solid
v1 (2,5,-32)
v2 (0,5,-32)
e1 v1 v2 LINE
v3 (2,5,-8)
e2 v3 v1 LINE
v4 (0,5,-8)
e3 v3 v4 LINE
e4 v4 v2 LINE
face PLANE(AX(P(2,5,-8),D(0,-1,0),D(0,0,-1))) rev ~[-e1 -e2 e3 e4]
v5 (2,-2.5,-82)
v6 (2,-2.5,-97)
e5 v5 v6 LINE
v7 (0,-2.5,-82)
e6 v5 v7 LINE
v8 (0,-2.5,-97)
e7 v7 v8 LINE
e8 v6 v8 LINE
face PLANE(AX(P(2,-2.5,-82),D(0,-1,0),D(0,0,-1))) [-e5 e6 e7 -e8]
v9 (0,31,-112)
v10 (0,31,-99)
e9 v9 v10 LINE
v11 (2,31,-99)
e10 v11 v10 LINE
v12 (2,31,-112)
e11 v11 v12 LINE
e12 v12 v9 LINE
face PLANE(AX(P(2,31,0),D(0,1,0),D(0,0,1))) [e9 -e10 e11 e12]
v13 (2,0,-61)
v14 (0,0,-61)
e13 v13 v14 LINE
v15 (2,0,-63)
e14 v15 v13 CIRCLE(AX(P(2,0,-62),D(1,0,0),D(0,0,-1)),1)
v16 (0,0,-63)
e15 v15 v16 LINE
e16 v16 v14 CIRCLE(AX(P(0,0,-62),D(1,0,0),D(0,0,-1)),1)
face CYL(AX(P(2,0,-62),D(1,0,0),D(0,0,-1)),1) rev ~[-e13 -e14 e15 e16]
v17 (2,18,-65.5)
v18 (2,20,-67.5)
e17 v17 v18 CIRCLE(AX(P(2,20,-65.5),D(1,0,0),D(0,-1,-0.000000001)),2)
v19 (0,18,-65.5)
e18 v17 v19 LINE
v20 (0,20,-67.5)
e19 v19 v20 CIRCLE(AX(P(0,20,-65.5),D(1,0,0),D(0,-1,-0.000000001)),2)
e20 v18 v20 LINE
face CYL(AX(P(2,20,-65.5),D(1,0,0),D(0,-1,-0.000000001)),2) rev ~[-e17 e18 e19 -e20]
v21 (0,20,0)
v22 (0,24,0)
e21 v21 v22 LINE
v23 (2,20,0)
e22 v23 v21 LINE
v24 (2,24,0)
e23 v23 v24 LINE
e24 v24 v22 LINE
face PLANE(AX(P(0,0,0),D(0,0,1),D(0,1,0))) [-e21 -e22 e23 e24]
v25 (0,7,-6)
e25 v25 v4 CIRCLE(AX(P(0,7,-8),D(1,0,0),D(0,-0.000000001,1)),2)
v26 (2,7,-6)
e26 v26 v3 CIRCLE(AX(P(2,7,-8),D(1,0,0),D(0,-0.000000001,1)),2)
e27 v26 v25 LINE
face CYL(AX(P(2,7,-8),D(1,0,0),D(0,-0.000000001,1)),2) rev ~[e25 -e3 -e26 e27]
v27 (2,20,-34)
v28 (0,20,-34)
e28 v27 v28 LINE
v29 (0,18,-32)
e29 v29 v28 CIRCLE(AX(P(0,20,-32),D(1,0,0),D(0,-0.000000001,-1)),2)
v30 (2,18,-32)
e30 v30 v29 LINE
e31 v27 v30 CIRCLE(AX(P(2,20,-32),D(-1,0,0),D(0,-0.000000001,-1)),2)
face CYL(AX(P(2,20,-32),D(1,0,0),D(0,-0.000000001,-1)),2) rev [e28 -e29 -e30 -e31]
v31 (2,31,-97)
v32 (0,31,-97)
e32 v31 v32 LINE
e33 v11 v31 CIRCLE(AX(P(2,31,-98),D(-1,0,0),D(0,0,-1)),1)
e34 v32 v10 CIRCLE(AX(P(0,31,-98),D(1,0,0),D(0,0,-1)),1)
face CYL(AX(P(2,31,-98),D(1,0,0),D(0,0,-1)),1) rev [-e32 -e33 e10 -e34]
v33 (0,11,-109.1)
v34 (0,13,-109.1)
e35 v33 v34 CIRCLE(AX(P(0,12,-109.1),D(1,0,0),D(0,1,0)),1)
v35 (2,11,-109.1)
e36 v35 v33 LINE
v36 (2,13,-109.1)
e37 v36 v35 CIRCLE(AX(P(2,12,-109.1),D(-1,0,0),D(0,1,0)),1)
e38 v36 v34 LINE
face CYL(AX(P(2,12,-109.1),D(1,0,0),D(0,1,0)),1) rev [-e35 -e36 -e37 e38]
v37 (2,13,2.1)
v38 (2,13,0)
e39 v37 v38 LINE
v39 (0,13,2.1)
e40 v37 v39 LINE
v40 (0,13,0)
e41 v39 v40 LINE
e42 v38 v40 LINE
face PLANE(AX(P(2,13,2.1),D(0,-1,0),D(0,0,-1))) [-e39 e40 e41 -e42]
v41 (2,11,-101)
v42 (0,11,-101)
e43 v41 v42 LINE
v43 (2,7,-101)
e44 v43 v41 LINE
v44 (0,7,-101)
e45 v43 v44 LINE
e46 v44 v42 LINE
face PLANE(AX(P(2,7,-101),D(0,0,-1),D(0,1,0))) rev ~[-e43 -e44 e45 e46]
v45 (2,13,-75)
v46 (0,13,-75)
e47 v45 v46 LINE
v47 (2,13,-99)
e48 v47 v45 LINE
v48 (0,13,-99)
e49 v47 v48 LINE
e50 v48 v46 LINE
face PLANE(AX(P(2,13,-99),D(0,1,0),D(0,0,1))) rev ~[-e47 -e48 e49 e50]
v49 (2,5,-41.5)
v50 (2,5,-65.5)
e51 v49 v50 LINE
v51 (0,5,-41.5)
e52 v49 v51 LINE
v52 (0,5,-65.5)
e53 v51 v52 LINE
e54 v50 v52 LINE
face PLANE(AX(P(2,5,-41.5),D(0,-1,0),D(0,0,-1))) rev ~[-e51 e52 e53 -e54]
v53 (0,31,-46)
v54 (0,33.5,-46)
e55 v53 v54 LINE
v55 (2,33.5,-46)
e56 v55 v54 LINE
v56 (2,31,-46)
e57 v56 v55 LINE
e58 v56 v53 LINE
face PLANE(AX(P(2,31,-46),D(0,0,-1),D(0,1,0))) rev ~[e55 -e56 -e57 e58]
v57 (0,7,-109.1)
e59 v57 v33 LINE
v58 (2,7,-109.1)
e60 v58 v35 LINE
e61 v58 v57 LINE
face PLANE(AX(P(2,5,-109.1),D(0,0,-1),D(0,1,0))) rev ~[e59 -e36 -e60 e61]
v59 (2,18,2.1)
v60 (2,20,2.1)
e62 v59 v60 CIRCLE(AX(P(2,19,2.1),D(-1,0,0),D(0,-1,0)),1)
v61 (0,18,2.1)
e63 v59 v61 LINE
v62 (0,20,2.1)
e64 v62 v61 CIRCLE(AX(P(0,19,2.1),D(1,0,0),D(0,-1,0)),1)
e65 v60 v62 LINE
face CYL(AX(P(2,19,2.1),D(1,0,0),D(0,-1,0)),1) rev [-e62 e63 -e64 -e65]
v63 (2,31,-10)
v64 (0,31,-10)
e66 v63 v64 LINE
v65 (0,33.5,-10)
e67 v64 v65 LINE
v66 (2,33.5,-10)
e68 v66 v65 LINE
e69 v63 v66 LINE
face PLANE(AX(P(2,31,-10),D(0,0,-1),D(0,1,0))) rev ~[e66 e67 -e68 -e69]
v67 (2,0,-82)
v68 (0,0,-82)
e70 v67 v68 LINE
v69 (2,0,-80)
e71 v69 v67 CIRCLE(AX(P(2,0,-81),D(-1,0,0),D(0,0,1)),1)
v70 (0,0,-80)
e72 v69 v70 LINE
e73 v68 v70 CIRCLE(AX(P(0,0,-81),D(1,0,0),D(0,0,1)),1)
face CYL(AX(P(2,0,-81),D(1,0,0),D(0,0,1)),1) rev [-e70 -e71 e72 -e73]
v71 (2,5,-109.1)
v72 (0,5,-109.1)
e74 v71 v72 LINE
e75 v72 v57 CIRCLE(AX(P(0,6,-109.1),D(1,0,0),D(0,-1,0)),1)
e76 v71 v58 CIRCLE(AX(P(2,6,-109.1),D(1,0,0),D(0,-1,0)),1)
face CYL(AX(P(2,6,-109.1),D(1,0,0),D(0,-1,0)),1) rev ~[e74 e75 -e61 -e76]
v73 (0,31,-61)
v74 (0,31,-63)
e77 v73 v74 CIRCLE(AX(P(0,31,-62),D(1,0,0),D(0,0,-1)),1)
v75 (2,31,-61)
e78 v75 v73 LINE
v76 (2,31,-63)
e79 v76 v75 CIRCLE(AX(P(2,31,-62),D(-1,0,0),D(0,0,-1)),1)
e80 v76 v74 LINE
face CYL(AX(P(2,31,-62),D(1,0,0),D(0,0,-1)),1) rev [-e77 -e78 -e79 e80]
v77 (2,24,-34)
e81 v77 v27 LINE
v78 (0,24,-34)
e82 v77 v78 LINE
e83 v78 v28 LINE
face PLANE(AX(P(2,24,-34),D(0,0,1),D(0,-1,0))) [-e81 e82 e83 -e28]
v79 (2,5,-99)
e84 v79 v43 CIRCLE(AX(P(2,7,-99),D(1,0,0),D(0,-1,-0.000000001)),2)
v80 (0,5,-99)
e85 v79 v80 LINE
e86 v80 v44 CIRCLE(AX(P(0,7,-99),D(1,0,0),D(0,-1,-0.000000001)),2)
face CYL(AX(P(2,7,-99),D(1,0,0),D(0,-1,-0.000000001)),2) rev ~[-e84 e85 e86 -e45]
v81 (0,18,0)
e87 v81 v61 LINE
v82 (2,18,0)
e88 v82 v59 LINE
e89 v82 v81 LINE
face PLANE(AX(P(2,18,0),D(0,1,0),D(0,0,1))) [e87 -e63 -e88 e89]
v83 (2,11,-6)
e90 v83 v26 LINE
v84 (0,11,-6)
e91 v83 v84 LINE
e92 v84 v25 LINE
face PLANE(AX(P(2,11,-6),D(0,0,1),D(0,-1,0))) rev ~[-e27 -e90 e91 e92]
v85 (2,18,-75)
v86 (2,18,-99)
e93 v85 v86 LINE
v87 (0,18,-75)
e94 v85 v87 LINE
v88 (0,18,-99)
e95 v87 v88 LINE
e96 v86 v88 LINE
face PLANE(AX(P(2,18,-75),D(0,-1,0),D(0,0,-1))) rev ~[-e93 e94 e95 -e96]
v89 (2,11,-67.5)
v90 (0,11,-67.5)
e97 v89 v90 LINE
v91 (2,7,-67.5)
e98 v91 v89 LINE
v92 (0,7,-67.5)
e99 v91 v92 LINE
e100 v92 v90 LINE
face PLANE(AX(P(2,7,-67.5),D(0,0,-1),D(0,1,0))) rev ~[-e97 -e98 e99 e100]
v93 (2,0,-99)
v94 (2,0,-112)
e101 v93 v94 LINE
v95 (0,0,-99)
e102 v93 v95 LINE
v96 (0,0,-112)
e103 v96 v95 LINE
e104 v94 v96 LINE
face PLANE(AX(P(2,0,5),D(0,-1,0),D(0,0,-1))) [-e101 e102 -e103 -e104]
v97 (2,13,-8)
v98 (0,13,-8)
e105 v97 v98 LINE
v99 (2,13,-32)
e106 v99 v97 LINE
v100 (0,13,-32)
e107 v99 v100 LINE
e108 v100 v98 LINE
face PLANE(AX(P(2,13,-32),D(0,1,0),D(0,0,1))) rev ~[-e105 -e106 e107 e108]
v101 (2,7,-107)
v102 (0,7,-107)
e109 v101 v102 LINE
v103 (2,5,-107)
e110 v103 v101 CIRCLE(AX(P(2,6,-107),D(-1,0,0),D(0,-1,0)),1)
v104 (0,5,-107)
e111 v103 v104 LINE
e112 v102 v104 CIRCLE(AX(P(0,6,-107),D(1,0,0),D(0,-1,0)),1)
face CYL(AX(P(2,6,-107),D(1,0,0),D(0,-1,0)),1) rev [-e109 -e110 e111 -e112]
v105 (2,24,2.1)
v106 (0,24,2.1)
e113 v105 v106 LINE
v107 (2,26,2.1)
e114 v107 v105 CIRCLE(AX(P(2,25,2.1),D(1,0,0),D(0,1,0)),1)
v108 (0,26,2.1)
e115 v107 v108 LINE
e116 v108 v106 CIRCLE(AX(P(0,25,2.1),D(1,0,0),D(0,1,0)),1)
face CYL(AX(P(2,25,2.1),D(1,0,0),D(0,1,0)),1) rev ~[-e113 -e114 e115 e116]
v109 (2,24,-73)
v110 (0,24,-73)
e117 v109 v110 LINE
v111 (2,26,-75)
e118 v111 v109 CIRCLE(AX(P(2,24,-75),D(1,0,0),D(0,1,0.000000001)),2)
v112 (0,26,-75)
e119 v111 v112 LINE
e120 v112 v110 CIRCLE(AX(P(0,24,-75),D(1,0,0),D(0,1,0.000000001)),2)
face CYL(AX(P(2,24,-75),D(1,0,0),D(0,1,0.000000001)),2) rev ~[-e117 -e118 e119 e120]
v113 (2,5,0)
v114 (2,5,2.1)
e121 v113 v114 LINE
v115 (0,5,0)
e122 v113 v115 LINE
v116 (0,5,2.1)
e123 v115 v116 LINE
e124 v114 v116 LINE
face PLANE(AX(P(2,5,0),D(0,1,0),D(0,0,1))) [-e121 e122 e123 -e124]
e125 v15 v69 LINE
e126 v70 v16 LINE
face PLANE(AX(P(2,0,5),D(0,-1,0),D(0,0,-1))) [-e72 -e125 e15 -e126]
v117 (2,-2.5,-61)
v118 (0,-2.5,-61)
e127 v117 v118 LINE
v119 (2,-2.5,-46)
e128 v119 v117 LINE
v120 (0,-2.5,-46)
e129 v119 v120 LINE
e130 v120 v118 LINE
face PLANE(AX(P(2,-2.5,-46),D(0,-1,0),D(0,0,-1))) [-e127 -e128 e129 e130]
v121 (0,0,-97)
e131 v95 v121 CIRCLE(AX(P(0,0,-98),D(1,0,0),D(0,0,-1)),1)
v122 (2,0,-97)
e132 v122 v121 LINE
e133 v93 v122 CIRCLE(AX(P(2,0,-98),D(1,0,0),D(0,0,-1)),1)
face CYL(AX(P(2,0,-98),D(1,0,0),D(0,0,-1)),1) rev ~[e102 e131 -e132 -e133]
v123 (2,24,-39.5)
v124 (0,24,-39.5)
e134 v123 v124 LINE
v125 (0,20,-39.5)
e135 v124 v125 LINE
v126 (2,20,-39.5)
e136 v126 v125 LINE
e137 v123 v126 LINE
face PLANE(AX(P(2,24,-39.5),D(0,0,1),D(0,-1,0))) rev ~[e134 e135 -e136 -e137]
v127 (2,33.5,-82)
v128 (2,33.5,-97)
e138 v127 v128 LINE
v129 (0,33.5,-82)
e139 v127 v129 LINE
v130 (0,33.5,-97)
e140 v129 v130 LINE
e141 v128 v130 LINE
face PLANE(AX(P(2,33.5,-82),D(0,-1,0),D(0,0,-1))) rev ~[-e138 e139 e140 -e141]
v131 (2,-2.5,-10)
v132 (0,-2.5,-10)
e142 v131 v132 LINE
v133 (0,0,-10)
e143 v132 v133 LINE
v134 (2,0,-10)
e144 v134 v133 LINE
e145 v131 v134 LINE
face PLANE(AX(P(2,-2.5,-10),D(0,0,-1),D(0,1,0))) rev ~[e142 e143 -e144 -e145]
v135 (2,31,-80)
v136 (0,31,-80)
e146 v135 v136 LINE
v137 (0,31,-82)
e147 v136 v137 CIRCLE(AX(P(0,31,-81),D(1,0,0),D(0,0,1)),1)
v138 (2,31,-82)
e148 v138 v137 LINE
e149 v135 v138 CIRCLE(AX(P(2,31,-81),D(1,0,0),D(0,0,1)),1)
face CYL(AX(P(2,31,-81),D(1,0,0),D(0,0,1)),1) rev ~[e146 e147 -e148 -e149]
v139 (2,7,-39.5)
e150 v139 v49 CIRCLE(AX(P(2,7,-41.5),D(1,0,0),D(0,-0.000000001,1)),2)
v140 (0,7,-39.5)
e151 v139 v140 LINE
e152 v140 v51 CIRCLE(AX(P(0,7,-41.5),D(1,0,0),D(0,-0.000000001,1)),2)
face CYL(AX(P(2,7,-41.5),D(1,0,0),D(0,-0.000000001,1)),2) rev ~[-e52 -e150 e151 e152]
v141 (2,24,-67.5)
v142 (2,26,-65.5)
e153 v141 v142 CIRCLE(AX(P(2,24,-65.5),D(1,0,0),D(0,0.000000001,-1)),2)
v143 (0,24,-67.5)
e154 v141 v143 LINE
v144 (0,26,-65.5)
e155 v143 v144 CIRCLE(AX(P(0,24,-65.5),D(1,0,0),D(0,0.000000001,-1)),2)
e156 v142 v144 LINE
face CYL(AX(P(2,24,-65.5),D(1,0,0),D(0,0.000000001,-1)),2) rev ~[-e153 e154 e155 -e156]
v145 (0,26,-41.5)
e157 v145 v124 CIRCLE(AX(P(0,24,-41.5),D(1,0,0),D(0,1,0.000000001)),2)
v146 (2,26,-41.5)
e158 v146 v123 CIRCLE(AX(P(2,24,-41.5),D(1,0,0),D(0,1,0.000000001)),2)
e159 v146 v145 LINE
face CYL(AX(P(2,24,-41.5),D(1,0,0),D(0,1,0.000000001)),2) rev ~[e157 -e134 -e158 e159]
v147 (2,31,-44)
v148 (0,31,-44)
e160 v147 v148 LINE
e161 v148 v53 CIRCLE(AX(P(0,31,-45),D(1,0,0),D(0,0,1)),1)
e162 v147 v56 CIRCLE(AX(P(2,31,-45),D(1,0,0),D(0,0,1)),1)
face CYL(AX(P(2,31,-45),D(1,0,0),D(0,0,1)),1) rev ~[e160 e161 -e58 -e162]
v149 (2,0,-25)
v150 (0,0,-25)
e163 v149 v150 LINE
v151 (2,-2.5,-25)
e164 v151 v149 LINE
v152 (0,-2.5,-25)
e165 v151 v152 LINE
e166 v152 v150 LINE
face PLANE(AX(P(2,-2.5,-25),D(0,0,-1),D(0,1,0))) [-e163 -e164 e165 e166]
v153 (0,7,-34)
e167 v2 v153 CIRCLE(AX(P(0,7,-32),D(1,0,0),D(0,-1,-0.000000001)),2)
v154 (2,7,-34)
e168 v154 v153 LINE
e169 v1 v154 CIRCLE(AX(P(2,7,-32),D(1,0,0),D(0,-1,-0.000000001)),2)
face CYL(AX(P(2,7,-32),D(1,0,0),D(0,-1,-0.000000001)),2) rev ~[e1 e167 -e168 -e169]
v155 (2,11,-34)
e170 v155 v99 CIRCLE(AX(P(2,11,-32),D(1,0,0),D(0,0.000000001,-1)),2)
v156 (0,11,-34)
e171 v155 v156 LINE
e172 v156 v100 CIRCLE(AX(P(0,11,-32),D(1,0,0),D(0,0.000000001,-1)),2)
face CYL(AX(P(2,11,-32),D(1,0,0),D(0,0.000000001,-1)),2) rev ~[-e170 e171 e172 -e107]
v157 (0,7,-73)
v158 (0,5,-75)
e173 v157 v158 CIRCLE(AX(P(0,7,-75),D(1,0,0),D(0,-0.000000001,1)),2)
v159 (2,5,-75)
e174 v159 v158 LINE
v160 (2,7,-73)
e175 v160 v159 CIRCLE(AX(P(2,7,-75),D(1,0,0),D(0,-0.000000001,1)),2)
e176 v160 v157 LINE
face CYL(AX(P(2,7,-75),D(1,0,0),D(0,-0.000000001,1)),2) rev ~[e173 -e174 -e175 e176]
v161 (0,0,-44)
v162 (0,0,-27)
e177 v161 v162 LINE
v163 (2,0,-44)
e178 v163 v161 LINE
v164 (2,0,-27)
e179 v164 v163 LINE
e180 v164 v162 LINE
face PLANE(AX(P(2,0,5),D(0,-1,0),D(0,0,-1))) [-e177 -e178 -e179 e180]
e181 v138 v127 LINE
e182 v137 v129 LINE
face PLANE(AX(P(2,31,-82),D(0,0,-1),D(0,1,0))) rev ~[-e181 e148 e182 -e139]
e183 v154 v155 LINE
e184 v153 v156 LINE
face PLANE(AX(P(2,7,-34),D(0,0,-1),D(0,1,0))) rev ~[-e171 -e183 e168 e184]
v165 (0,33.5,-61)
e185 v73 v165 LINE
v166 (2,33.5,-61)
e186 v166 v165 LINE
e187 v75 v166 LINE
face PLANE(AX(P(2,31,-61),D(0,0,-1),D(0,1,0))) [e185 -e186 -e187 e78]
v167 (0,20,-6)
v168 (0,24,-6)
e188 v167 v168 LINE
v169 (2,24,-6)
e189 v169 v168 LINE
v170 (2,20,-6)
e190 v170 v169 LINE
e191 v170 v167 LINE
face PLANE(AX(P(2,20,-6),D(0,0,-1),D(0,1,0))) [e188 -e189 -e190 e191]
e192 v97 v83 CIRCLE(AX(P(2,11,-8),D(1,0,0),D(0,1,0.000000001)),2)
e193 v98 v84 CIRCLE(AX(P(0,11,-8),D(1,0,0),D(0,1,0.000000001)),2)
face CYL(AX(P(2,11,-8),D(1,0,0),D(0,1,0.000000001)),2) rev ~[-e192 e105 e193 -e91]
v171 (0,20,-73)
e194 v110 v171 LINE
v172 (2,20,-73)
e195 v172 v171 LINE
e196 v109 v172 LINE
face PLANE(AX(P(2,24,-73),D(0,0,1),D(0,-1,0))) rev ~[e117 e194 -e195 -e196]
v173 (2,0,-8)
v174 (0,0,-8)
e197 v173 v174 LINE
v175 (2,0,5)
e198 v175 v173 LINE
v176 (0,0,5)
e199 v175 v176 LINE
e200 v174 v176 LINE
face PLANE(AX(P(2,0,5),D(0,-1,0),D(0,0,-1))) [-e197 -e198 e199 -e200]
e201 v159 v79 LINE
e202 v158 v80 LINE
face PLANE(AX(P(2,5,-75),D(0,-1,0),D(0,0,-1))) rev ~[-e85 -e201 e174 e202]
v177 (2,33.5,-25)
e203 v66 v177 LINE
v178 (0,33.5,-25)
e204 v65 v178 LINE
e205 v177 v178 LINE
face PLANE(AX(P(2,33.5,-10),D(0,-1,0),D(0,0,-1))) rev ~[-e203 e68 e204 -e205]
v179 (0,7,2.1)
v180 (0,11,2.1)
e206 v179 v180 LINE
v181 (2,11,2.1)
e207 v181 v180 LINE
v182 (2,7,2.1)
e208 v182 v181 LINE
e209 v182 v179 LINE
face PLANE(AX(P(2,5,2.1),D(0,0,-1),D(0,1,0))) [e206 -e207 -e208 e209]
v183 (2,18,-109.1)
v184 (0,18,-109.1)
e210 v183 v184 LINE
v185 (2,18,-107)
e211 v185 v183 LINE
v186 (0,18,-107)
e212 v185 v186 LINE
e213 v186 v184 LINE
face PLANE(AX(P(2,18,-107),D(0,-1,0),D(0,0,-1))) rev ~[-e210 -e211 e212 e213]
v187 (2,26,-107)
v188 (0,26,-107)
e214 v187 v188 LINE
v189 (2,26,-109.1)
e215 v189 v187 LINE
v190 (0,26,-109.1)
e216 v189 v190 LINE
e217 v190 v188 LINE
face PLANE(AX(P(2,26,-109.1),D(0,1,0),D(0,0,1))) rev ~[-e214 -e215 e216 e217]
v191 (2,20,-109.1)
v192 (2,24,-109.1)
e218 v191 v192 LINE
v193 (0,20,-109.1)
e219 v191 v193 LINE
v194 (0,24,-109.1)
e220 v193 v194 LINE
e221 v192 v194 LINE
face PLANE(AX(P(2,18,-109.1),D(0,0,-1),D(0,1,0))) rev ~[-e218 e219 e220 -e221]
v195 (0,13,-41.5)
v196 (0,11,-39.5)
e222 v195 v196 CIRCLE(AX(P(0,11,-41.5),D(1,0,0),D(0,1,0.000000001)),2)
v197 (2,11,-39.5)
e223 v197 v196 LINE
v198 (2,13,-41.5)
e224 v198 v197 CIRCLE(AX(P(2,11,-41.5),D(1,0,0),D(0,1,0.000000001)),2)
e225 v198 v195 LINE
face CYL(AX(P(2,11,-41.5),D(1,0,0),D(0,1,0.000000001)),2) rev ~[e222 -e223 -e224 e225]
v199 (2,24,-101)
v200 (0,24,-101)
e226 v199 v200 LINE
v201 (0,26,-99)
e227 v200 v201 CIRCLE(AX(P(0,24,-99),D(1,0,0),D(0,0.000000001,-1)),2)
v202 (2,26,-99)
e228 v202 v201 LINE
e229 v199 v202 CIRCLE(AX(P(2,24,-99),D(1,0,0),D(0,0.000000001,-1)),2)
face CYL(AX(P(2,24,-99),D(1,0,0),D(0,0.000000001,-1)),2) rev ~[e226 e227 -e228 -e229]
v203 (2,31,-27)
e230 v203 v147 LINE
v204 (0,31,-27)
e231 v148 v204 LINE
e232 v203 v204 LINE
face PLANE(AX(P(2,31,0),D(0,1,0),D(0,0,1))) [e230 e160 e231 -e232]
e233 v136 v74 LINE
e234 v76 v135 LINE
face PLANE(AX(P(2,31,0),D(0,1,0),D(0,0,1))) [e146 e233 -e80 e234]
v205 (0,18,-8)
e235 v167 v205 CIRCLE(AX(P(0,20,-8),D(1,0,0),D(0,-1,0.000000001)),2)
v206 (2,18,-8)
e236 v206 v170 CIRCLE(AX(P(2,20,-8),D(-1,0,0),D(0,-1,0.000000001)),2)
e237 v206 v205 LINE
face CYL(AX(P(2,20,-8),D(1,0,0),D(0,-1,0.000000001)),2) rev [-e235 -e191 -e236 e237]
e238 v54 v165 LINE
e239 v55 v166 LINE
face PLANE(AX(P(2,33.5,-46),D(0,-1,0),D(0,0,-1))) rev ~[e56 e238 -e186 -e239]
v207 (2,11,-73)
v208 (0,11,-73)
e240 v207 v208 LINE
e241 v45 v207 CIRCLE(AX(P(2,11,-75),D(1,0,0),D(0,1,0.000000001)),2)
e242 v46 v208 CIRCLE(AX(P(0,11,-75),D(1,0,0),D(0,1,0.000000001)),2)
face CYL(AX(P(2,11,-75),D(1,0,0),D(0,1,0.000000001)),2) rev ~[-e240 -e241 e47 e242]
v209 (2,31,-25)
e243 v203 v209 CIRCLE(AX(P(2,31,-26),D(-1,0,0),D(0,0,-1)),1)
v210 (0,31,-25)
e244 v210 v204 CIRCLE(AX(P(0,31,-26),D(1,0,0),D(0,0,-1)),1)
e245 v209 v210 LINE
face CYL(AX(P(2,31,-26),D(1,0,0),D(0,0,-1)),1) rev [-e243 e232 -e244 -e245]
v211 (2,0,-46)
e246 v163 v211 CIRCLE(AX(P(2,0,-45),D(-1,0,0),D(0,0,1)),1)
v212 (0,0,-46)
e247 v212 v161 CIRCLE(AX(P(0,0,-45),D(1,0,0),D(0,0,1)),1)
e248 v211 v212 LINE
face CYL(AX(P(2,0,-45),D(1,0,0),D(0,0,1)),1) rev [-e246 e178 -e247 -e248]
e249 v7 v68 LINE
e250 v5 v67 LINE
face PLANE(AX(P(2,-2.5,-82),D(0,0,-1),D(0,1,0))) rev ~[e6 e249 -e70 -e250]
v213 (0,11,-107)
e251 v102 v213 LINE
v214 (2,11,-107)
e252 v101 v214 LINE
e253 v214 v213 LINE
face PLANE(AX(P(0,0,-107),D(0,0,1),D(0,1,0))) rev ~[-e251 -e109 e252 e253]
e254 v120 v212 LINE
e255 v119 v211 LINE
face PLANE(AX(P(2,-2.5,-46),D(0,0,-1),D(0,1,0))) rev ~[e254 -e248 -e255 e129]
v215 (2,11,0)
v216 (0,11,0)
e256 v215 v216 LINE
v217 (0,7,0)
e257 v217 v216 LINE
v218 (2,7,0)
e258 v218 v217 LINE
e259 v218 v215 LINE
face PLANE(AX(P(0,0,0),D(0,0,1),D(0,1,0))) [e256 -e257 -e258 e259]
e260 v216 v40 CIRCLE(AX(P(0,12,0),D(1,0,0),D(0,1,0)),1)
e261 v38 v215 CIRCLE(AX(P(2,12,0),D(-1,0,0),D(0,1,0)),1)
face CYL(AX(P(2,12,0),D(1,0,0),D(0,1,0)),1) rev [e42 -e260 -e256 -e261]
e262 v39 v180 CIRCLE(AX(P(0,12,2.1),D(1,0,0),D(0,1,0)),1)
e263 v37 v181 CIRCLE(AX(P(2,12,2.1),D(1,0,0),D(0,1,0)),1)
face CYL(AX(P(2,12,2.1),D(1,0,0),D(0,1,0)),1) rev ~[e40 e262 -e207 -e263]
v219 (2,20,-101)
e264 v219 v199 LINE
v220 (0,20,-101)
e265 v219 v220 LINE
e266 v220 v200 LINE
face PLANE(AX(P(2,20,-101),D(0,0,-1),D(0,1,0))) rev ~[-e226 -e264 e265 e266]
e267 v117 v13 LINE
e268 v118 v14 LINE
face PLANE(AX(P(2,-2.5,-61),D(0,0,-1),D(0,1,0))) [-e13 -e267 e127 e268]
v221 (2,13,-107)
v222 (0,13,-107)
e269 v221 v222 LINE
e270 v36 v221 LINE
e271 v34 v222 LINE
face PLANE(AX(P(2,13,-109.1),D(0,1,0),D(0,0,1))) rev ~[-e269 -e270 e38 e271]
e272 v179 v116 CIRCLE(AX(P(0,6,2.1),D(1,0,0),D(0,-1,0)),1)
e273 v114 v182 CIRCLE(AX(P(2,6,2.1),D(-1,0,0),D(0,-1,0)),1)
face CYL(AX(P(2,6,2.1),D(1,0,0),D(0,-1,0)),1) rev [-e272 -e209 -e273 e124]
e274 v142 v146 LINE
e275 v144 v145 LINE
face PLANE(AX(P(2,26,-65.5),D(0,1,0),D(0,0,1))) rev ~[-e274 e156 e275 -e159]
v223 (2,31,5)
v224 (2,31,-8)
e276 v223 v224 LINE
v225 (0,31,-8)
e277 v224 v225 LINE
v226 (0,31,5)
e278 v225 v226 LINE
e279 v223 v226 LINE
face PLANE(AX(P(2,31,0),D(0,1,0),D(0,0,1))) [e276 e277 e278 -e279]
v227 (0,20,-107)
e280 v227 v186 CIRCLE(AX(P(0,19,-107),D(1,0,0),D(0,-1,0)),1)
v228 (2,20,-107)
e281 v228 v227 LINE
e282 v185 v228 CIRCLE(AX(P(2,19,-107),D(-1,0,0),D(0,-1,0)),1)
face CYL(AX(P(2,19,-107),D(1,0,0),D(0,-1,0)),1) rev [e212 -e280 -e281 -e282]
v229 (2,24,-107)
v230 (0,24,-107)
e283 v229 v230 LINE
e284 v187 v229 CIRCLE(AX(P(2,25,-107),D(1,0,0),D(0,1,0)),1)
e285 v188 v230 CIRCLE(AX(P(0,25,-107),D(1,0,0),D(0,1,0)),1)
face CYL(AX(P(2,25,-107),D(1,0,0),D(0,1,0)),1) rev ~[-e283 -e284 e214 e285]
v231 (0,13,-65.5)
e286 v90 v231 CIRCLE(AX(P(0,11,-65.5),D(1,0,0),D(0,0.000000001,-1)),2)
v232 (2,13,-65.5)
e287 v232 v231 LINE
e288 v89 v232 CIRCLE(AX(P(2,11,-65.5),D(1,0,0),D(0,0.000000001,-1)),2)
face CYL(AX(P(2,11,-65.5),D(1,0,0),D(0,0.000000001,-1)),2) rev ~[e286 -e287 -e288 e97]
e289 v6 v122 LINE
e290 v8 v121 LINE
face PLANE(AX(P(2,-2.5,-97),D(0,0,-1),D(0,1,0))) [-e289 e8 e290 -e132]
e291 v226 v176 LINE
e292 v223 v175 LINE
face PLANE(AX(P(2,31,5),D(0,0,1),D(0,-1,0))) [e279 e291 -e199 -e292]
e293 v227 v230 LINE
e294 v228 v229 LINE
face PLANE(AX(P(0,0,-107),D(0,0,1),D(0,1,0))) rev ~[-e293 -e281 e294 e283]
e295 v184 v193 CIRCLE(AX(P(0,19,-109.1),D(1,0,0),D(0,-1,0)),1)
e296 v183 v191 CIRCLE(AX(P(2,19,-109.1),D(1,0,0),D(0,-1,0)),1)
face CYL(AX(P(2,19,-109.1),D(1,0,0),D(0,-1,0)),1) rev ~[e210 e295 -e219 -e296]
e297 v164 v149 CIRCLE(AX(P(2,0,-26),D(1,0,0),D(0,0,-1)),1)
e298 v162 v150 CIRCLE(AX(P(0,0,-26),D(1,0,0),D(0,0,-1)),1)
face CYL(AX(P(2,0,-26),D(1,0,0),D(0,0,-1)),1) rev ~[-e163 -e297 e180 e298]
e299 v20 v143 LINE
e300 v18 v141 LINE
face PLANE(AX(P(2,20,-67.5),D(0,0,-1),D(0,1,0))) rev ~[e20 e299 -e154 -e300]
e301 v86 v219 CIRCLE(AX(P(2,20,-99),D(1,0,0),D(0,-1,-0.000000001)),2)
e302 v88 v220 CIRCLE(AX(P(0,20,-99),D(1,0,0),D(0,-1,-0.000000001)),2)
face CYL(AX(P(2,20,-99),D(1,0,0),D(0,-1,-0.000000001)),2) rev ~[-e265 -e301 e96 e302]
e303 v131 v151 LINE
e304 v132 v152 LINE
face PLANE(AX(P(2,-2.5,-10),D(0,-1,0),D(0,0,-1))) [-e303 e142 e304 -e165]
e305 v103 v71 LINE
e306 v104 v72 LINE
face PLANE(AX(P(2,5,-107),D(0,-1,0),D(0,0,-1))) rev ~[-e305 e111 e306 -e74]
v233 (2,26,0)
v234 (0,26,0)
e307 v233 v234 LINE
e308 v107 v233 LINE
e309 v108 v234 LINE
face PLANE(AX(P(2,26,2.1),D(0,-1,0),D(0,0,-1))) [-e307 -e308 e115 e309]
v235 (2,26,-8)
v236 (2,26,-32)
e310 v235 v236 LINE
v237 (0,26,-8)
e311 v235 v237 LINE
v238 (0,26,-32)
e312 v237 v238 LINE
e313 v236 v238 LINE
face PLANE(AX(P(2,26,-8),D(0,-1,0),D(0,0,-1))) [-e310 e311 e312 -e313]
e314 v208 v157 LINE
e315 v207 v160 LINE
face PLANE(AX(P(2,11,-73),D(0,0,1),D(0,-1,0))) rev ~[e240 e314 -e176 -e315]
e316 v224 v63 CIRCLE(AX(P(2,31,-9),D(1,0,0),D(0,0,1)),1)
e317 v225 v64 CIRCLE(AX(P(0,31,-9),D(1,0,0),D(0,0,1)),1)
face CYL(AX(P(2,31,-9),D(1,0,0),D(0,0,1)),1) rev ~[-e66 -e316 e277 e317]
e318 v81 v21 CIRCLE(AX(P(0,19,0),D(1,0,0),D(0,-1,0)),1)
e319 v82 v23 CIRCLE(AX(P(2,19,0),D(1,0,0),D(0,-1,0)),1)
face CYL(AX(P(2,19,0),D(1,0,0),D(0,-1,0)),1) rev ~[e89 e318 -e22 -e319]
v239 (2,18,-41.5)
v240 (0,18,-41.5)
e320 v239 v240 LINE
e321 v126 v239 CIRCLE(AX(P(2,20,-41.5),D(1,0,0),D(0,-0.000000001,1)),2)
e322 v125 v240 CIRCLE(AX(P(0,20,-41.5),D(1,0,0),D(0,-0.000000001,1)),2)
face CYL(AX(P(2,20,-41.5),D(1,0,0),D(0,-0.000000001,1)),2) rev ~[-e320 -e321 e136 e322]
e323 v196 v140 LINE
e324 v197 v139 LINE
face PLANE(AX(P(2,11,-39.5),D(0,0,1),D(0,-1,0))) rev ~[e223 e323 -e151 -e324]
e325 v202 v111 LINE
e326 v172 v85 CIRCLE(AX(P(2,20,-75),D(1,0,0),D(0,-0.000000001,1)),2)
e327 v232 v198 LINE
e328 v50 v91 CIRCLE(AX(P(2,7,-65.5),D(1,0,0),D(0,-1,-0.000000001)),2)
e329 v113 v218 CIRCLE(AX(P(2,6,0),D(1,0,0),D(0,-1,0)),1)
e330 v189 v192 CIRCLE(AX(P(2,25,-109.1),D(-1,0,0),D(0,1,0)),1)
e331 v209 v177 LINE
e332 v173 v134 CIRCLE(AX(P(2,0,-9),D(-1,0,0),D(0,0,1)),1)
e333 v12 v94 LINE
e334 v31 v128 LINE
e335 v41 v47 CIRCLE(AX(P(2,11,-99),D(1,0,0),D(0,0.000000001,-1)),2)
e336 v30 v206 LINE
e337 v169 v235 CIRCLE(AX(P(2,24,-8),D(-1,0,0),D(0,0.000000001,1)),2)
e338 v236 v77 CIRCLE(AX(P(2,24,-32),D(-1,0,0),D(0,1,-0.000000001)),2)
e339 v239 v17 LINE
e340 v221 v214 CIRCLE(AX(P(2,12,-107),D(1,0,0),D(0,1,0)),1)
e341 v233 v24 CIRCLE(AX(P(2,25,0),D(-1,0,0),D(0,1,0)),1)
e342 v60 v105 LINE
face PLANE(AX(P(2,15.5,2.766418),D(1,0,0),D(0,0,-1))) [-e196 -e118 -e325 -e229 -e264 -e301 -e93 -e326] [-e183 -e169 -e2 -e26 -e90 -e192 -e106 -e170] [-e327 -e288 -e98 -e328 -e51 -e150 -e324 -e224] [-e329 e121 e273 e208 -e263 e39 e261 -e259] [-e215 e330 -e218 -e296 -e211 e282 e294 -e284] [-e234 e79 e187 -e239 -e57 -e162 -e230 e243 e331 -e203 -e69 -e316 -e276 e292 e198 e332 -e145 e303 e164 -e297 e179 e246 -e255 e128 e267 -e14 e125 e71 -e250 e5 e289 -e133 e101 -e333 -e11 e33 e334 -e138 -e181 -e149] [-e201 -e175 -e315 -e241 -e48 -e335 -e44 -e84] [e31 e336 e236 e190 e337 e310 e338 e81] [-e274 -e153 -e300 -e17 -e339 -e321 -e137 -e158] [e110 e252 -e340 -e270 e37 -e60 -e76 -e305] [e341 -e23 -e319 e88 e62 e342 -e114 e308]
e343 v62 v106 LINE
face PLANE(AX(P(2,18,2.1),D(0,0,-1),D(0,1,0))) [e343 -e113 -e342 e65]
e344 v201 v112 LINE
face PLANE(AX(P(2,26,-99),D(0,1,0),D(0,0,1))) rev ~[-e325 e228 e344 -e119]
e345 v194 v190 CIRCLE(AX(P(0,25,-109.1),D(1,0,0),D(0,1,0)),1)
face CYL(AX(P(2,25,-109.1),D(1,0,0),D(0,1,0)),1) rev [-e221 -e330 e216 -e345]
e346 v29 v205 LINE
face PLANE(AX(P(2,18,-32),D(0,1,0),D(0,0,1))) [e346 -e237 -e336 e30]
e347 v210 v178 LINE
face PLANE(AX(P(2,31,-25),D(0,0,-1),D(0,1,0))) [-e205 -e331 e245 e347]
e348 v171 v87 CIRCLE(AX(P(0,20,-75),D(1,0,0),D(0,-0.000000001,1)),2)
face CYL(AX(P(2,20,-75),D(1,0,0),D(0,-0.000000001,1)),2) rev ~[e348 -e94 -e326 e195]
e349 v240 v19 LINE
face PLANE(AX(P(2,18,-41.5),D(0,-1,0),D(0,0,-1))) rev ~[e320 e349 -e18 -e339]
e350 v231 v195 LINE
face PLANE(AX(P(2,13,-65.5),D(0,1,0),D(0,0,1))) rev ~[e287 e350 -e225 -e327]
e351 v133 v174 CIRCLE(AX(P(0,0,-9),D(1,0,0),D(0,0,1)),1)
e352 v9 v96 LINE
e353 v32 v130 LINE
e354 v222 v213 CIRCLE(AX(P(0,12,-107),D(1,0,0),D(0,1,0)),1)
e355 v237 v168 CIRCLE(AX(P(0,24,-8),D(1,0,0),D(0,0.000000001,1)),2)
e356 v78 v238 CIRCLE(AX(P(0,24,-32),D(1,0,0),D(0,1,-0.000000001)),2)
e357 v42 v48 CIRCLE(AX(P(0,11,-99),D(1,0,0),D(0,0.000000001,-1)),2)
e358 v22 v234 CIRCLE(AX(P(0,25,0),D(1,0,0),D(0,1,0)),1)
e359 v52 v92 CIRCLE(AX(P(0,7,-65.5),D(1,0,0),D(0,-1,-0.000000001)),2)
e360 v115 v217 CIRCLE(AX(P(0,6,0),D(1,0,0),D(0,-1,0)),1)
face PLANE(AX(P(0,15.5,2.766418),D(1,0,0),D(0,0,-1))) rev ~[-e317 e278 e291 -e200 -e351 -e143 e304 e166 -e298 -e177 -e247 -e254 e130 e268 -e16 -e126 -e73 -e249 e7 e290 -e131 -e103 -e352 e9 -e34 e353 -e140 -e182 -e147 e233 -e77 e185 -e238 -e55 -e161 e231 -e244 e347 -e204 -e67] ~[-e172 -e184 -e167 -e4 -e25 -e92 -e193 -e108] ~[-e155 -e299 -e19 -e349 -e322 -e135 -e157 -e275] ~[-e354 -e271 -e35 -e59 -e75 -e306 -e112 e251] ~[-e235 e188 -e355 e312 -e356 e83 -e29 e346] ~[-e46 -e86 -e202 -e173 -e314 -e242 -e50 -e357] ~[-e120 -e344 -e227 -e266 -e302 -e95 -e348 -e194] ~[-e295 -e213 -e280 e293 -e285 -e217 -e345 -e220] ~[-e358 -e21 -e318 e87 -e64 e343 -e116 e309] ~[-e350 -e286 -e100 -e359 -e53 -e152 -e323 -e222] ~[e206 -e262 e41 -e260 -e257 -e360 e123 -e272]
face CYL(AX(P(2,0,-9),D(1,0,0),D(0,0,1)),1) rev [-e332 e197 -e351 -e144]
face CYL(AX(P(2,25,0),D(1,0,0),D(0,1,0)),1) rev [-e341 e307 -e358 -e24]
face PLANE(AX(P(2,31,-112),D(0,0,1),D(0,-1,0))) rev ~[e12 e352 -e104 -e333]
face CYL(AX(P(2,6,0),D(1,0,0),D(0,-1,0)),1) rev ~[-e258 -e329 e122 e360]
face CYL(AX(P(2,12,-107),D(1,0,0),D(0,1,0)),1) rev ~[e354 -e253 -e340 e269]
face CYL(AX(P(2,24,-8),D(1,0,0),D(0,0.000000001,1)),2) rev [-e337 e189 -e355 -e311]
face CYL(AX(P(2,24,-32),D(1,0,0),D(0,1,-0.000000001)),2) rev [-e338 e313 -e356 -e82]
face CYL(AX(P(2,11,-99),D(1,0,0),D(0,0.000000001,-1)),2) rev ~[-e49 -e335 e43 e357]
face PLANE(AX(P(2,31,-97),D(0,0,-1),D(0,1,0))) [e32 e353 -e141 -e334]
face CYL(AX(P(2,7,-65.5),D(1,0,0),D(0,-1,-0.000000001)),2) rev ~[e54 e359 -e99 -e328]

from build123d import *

# Parameters (mm, degrees)
SKETCH_1_W          = 107
SKETCH_1_H          = 31
EXTRUDE_1_DEPTH     = 2
EXTRUDE_2_DEPTH     = 2
CUT_EXTRUDE_1_DEPTH = 117.228223767
SKETCH_5_W          = 15
SKETCH_5_H          = 2.5
EXTRUDE_3_DEPTH     = 2
CUT_EXTRUDE_2_DEPTH = 117.919844338
CUT_EXTRUDE_3_DEPTH = 117.919844338


with BuildPart() as part:
    # 草图1 → 凸台-拉伸1 (new body)
    with BuildSketch(Plane(origin=(0, 0, 0), x_dir=(0, 0, -1), z_dir=(1, 0, 0))):
        with Locations((53.5, 15.5)):
            Rectangle(SKETCH_1_W, SKETCH_1_H)
    extrude(amount=EXTRUDE_1_DEPTH)

    # 草图2 → 凸台-拉伸2 (add)
    with BuildSketch(Plane(origin=(2, 0, 0), x_dir=(0, 0, -1), z_dir=(1, 0, 0))):
        Polygon((0, 31), (-5, 31), (-5, 0), (0, 0), (0, 5), (-2.1, 5), (-2.1, 13), (0, 13), (0, 18), (-2.1, 18), (-2.1, 26), (0, 26), align=None)
        Polygon((107, 0), (107, 5), (109.1, 5), (109.1, 13), (107, 13), (107, 18), (109.1, 18), (109.1, 26), (107, 26), (107, 31), (112, 31), (112, 0), align=None)
    extrude(amount=-EXTRUDE_2_DEPTH)

    # 草图3 → 切除-拉伸1 (cut, through all)
    with BuildSketch(Plane(origin=(2, 0, 0), x_dir=(0, 0, -1), z_dir=(1, 0, 0))):
        with BuildLine():
            Line((-2.1, 24), (-2.1, 26))
            ThreePointArc((-2.1, 26), (-3.1, 25), (-2.1, 24))
        make_face()
        with BuildLine():
            Line((0, 24), (0, 26))
            ThreePointArc((0, 26), (1, 25), (0, 24))
        make_face()
        with BuildLine():
            Line((0, 20), (0, 18))
            ThreePointArc((0, 18), (1, 19), (0, 20))
        make_face()
        with BuildLine():
            Line((-2.1, 20), (-2.1, 18))
            ThreePointArc((-2.1, 18), (-3.1, 19), (-2.1, 20))
        make_face()
        with BuildLine():
            Line((-2.1, 11), (-2.1, 13))
            ThreePointArc((-2.1, 13), (-3.1, 12), (-2.1, 11))
        make_face()
        with BuildLine():
            Line((0, 11), (0, 13))
            ThreePointArc((0, 13), (1, 12), (0, 11))
        make_face()
        with BuildLine():
            Line((0, 7), (0, 5))
            ThreePointArc((0, 5), (1, 6), (0, 7))
        make_face()
        with BuildLine():
            Line((-2.1, 7), (-2.1, 5))
            ThreePointArc((-2.1, 5), (-3.1, 6), (-2.1, 7))
        make_face()
        with BuildLine():
            Line((109.1, 7), (109.1, 5))
            ThreePointArc((109.1, 5), (110.1, 6), (109.1, 7))
        make_face()
        with BuildLine():
            Line((107, 7), (107, 5))
            ThreePointArc((107, 5), (106, 6), (107, 7))
        make_face()
        with BuildLine():
            Line((107, 11), (107, 13))
            ThreePointArc((107, 13), (106, 12), (107, 11))
        make_face()
        with BuildLine():
            Line((109.1, 11), (109.1, 13))
            ThreePointArc((109.1, 13), (110.1, 12), (109.1, 11))
        make_face()
        with BuildLine():
            Line((109.1, 20), (109.1, 18))
            ThreePointArc((109.1, 18), (110.1, 19), (109.1, 20))
        make_face()
        with BuildLine():
            Line((107, 20), (107, 18))
            ThreePointArc((107, 18), (106, 19), (107, 20))
        make_face()
        with BuildLine():
            Line((107, 24), (107, 26))
            ThreePointArc((107, 26), (106, 25), (107, 24))
        make_face()
        with BuildLine():
            Line((109.1, 24), (109.1, 26))
            ThreePointArc((109.1, 26), (110.1, 25), (109.1, 24))
        make_face()
    extrude(amount=-CUT_EXTRUDE_1_DEPTH, mode=Mode.SUBTRACT)

    # 草图5 → 凸台-拉伸3 (add)
    with BuildSketch(Plane(origin=(2, 0, 0), x_dir=(0, 0, -1), z_dir=(1, 0, 0))):
        with Locations((17.5, 32.25)):
            Rectangle(SKETCH_5_W, SKETCH_5_H)
        with Locations((53.5, 32.25)):
            Rectangle(SKETCH_5_W, SKETCH_5_H)
        with Locations((89.5, 32.25)):
            Rectangle(SKETCH_5_W, SKETCH_5_H)
        with Locations((89.5, -1.25)):
            Rectangle(SKETCH_5_W, SKETCH_5_H)
        with Locations((53.5, -1.25)):
            Rectangle(SKETCH_5_W, SKETCH_5_H)
        with Locations((17.5, -1.25)):
            Rectangle(SKETCH_5_W, SKETCH_5_H)
    extrude(amount=-EXTRUDE_3_DEPTH)

    # 草图6 → 切除-拉伸2 (cut, through all)
    with BuildSketch(Plane(origin=(2, 0, 0), x_dir=(0, 0, -1), z_dir=(1, 0, 0))):
        with BuildLine():
            Line((10, 31), (8, 31))
            ThreePointArc((8, 31), (9, 30), (10, 31))
        make_face()
        with BuildLine():
            Line((25, 31), (27, 31))
            ThreePointArc((27, 31), (26, 30), (25, 31))
        make_face()
        with BuildLine():
            Line((46, 31), (44, 31))
            ThreePointArc((44, 31), (45, 30), (46, 31))
        make_face()
        with BuildLine():
            Line((61, 31), (63, 31))
            ThreePointArc((63, 31), (62, 30), (61, 31))
        make_face()
        with BuildLine():
            Line((82, 31), (80, 31))
            ThreePointArc((80, 31), (81, 30), (82, 31))
        make_face()
        with BuildLine():
            Line((97, 31), (99, 31))
            ThreePointArc((99, 31), (98, 30), (97, 31))
        make_face()
        with BuildLine():
            Line((97, 0), (99, 0))
            ThreePointArc((99, 0), (98, 1), (97, 0))
        make_face()
        with BuildLine():
            Line((82, 0), (80, 0))
            ThreePointArc((80, 0), (81, 1), (82, 0))
        make_face()
        with BuildLine():
            Line((61, 0), (63, 0))
            ThreePointArc((63, 0), (62, 1), (61, 0))
        make_face()
        with BuildLine():
            Line((46, 0), (44, 0))
            ThreePointArc((44, 0), (45, 1), (46, 0))
        make_face()
        with BuildLine():
            Line((25, 0), (27, 0))
            ThreePointArc((27, 0), (26, 1), (25, 0))
        make_face()
        with BuildLine():
            Line((10, 0), (8, 0))
            ThreePointArc((8, 0), (9, 1), (10, 0))
        make_face()
    extrude(amount=-CUT_EXTRUDE_2_DEPTH, mode=Mode.SUBTRACT)

    # 草图7 → 切除-拉伸3 (cut, through all)
    with BuildSketch(Plane(origin=(2, 0, 0), x_dir=(0, 0, -1), z_dir=(1, 0, 0))):
        with BuildLine():
            Line((8, 26), (32, 26))
            ThreePointArc((32, 26), (33.414213562, 25.414213562), (34, 24))
            Line((34, 24), (34, 20))
            ThreePointArc((34, 20), (33.414213562, 18.585786438), (32, 18))
            Line((32, 18), (8, 18))
            ThreePointArc((8, 18), (6.585786438, 18.585786438), (6, 20))
            Line((6, 20), (6, 24))
            ThreePointArc((6, 24), (6.585786438, 25.414213562), (8, 26))
        make_face()
        with BuildLine():
            Line((39.5, 24), (39.5, 20))
            ThreePointArc((39.5, 20), (40.085786438, 18.585786438), (41.5, 18))
            Line((41.5, 18), (65.5, 18))
            ThreePointArc((65.5, 18), (66.914213562, 18.585786438), (67.5, 20))
            Line((67.5, 20), (67.5, 24))
            ThreePointArc((67.5, 24), (66.914213562, 25.414213562), (65.5, 26))
            Line((65.5, 26), (41.5, 26))
            ThreePointArc((41.5, 26), (40.085786438, 25.414213562), (39.5, 24))
        make_face()
        with BuildLine():
            Line((73, 24), (73, 20))
            ThreePointArc((73, 20), (73.585786438, 18.585786438), (75, 18))
            Line((75, 18), (99, 18))
            ThreePointArc((99, 18), (100.414213562, 18.585786438), (101, 20))
            Line((101, 20), (101, 24))
            ThreePointArc((101, 24), (100.414213562, 25.414213562), (99, 26))
            Line((99, 26), (75, 26))
            ThreePointArc((75, 26), (73.585786438, 25.414213562), (73, 24))
        make_face()
        with BuildLine():
            Line((39.5, 11), (39.5, 7))
            ThreePointArc((39.5, 7), (40.085786438, 5.585786438), (41.5, 5))
            Line((41.5, 5), (65.5, 5))
            ThreePointArc((65.5, 5), (66.914213562, 5.585786438), (67.5, 7))
            Line((67.5, 7), (67.5, 11))
            ThreePointArc((67.5, 11), (66.914213562, 12.414213562), (65.5, 13))
            Line((65.5, 13), (41.5, 13))
            ThreePointArc((41.5, 13), (40.085786438, 12.414213562), (39.5, 11))
        make_face()
        with BuildLine():
            Line((73, 11), (73, 7))
            ThreePointArc((73, 7), (73.585786438, 5.585786438), (75, 5))
            Line((75, 5), (99, 5))
            ThreePointArc((99, 5), (100.414213562, 5.585786438), (101, 7))
            Line((101, 7), (101, 11))
            ThreePointArc((101, 11), (100.414213562, 12.414213562), (99, 13))
            Line((99, 13), (75, 13))
            ThreePointArc((75, 13), (73.585786438, 12.414213562), (73, 11))
        make_face()
        with BuildLine():
            Line((6, 11), (6, 7))
            ThreePointArc((6, 7), (6.585786438, 5.585786438), (8, 5))
            Line((8, 5), (32, 5))
            ThreePointArc((32, 5), (33.414213562, 5.585786438), (34, 7))
            Line((34, 7), (34, 11))
            ThreePointArc((34, 11), (33.414213562, 12.414213562), (32, 13))
            Line((32, 13), (8, 13))
            ThreePointArc((8, 13), (6.585786438, 12.414213562), (6, 11))
        make_face()
    extrude(amount=-CUT_EXTRUDE_3_DEPTH, mode=Mode.SUBTRACT)


solid = part.part
